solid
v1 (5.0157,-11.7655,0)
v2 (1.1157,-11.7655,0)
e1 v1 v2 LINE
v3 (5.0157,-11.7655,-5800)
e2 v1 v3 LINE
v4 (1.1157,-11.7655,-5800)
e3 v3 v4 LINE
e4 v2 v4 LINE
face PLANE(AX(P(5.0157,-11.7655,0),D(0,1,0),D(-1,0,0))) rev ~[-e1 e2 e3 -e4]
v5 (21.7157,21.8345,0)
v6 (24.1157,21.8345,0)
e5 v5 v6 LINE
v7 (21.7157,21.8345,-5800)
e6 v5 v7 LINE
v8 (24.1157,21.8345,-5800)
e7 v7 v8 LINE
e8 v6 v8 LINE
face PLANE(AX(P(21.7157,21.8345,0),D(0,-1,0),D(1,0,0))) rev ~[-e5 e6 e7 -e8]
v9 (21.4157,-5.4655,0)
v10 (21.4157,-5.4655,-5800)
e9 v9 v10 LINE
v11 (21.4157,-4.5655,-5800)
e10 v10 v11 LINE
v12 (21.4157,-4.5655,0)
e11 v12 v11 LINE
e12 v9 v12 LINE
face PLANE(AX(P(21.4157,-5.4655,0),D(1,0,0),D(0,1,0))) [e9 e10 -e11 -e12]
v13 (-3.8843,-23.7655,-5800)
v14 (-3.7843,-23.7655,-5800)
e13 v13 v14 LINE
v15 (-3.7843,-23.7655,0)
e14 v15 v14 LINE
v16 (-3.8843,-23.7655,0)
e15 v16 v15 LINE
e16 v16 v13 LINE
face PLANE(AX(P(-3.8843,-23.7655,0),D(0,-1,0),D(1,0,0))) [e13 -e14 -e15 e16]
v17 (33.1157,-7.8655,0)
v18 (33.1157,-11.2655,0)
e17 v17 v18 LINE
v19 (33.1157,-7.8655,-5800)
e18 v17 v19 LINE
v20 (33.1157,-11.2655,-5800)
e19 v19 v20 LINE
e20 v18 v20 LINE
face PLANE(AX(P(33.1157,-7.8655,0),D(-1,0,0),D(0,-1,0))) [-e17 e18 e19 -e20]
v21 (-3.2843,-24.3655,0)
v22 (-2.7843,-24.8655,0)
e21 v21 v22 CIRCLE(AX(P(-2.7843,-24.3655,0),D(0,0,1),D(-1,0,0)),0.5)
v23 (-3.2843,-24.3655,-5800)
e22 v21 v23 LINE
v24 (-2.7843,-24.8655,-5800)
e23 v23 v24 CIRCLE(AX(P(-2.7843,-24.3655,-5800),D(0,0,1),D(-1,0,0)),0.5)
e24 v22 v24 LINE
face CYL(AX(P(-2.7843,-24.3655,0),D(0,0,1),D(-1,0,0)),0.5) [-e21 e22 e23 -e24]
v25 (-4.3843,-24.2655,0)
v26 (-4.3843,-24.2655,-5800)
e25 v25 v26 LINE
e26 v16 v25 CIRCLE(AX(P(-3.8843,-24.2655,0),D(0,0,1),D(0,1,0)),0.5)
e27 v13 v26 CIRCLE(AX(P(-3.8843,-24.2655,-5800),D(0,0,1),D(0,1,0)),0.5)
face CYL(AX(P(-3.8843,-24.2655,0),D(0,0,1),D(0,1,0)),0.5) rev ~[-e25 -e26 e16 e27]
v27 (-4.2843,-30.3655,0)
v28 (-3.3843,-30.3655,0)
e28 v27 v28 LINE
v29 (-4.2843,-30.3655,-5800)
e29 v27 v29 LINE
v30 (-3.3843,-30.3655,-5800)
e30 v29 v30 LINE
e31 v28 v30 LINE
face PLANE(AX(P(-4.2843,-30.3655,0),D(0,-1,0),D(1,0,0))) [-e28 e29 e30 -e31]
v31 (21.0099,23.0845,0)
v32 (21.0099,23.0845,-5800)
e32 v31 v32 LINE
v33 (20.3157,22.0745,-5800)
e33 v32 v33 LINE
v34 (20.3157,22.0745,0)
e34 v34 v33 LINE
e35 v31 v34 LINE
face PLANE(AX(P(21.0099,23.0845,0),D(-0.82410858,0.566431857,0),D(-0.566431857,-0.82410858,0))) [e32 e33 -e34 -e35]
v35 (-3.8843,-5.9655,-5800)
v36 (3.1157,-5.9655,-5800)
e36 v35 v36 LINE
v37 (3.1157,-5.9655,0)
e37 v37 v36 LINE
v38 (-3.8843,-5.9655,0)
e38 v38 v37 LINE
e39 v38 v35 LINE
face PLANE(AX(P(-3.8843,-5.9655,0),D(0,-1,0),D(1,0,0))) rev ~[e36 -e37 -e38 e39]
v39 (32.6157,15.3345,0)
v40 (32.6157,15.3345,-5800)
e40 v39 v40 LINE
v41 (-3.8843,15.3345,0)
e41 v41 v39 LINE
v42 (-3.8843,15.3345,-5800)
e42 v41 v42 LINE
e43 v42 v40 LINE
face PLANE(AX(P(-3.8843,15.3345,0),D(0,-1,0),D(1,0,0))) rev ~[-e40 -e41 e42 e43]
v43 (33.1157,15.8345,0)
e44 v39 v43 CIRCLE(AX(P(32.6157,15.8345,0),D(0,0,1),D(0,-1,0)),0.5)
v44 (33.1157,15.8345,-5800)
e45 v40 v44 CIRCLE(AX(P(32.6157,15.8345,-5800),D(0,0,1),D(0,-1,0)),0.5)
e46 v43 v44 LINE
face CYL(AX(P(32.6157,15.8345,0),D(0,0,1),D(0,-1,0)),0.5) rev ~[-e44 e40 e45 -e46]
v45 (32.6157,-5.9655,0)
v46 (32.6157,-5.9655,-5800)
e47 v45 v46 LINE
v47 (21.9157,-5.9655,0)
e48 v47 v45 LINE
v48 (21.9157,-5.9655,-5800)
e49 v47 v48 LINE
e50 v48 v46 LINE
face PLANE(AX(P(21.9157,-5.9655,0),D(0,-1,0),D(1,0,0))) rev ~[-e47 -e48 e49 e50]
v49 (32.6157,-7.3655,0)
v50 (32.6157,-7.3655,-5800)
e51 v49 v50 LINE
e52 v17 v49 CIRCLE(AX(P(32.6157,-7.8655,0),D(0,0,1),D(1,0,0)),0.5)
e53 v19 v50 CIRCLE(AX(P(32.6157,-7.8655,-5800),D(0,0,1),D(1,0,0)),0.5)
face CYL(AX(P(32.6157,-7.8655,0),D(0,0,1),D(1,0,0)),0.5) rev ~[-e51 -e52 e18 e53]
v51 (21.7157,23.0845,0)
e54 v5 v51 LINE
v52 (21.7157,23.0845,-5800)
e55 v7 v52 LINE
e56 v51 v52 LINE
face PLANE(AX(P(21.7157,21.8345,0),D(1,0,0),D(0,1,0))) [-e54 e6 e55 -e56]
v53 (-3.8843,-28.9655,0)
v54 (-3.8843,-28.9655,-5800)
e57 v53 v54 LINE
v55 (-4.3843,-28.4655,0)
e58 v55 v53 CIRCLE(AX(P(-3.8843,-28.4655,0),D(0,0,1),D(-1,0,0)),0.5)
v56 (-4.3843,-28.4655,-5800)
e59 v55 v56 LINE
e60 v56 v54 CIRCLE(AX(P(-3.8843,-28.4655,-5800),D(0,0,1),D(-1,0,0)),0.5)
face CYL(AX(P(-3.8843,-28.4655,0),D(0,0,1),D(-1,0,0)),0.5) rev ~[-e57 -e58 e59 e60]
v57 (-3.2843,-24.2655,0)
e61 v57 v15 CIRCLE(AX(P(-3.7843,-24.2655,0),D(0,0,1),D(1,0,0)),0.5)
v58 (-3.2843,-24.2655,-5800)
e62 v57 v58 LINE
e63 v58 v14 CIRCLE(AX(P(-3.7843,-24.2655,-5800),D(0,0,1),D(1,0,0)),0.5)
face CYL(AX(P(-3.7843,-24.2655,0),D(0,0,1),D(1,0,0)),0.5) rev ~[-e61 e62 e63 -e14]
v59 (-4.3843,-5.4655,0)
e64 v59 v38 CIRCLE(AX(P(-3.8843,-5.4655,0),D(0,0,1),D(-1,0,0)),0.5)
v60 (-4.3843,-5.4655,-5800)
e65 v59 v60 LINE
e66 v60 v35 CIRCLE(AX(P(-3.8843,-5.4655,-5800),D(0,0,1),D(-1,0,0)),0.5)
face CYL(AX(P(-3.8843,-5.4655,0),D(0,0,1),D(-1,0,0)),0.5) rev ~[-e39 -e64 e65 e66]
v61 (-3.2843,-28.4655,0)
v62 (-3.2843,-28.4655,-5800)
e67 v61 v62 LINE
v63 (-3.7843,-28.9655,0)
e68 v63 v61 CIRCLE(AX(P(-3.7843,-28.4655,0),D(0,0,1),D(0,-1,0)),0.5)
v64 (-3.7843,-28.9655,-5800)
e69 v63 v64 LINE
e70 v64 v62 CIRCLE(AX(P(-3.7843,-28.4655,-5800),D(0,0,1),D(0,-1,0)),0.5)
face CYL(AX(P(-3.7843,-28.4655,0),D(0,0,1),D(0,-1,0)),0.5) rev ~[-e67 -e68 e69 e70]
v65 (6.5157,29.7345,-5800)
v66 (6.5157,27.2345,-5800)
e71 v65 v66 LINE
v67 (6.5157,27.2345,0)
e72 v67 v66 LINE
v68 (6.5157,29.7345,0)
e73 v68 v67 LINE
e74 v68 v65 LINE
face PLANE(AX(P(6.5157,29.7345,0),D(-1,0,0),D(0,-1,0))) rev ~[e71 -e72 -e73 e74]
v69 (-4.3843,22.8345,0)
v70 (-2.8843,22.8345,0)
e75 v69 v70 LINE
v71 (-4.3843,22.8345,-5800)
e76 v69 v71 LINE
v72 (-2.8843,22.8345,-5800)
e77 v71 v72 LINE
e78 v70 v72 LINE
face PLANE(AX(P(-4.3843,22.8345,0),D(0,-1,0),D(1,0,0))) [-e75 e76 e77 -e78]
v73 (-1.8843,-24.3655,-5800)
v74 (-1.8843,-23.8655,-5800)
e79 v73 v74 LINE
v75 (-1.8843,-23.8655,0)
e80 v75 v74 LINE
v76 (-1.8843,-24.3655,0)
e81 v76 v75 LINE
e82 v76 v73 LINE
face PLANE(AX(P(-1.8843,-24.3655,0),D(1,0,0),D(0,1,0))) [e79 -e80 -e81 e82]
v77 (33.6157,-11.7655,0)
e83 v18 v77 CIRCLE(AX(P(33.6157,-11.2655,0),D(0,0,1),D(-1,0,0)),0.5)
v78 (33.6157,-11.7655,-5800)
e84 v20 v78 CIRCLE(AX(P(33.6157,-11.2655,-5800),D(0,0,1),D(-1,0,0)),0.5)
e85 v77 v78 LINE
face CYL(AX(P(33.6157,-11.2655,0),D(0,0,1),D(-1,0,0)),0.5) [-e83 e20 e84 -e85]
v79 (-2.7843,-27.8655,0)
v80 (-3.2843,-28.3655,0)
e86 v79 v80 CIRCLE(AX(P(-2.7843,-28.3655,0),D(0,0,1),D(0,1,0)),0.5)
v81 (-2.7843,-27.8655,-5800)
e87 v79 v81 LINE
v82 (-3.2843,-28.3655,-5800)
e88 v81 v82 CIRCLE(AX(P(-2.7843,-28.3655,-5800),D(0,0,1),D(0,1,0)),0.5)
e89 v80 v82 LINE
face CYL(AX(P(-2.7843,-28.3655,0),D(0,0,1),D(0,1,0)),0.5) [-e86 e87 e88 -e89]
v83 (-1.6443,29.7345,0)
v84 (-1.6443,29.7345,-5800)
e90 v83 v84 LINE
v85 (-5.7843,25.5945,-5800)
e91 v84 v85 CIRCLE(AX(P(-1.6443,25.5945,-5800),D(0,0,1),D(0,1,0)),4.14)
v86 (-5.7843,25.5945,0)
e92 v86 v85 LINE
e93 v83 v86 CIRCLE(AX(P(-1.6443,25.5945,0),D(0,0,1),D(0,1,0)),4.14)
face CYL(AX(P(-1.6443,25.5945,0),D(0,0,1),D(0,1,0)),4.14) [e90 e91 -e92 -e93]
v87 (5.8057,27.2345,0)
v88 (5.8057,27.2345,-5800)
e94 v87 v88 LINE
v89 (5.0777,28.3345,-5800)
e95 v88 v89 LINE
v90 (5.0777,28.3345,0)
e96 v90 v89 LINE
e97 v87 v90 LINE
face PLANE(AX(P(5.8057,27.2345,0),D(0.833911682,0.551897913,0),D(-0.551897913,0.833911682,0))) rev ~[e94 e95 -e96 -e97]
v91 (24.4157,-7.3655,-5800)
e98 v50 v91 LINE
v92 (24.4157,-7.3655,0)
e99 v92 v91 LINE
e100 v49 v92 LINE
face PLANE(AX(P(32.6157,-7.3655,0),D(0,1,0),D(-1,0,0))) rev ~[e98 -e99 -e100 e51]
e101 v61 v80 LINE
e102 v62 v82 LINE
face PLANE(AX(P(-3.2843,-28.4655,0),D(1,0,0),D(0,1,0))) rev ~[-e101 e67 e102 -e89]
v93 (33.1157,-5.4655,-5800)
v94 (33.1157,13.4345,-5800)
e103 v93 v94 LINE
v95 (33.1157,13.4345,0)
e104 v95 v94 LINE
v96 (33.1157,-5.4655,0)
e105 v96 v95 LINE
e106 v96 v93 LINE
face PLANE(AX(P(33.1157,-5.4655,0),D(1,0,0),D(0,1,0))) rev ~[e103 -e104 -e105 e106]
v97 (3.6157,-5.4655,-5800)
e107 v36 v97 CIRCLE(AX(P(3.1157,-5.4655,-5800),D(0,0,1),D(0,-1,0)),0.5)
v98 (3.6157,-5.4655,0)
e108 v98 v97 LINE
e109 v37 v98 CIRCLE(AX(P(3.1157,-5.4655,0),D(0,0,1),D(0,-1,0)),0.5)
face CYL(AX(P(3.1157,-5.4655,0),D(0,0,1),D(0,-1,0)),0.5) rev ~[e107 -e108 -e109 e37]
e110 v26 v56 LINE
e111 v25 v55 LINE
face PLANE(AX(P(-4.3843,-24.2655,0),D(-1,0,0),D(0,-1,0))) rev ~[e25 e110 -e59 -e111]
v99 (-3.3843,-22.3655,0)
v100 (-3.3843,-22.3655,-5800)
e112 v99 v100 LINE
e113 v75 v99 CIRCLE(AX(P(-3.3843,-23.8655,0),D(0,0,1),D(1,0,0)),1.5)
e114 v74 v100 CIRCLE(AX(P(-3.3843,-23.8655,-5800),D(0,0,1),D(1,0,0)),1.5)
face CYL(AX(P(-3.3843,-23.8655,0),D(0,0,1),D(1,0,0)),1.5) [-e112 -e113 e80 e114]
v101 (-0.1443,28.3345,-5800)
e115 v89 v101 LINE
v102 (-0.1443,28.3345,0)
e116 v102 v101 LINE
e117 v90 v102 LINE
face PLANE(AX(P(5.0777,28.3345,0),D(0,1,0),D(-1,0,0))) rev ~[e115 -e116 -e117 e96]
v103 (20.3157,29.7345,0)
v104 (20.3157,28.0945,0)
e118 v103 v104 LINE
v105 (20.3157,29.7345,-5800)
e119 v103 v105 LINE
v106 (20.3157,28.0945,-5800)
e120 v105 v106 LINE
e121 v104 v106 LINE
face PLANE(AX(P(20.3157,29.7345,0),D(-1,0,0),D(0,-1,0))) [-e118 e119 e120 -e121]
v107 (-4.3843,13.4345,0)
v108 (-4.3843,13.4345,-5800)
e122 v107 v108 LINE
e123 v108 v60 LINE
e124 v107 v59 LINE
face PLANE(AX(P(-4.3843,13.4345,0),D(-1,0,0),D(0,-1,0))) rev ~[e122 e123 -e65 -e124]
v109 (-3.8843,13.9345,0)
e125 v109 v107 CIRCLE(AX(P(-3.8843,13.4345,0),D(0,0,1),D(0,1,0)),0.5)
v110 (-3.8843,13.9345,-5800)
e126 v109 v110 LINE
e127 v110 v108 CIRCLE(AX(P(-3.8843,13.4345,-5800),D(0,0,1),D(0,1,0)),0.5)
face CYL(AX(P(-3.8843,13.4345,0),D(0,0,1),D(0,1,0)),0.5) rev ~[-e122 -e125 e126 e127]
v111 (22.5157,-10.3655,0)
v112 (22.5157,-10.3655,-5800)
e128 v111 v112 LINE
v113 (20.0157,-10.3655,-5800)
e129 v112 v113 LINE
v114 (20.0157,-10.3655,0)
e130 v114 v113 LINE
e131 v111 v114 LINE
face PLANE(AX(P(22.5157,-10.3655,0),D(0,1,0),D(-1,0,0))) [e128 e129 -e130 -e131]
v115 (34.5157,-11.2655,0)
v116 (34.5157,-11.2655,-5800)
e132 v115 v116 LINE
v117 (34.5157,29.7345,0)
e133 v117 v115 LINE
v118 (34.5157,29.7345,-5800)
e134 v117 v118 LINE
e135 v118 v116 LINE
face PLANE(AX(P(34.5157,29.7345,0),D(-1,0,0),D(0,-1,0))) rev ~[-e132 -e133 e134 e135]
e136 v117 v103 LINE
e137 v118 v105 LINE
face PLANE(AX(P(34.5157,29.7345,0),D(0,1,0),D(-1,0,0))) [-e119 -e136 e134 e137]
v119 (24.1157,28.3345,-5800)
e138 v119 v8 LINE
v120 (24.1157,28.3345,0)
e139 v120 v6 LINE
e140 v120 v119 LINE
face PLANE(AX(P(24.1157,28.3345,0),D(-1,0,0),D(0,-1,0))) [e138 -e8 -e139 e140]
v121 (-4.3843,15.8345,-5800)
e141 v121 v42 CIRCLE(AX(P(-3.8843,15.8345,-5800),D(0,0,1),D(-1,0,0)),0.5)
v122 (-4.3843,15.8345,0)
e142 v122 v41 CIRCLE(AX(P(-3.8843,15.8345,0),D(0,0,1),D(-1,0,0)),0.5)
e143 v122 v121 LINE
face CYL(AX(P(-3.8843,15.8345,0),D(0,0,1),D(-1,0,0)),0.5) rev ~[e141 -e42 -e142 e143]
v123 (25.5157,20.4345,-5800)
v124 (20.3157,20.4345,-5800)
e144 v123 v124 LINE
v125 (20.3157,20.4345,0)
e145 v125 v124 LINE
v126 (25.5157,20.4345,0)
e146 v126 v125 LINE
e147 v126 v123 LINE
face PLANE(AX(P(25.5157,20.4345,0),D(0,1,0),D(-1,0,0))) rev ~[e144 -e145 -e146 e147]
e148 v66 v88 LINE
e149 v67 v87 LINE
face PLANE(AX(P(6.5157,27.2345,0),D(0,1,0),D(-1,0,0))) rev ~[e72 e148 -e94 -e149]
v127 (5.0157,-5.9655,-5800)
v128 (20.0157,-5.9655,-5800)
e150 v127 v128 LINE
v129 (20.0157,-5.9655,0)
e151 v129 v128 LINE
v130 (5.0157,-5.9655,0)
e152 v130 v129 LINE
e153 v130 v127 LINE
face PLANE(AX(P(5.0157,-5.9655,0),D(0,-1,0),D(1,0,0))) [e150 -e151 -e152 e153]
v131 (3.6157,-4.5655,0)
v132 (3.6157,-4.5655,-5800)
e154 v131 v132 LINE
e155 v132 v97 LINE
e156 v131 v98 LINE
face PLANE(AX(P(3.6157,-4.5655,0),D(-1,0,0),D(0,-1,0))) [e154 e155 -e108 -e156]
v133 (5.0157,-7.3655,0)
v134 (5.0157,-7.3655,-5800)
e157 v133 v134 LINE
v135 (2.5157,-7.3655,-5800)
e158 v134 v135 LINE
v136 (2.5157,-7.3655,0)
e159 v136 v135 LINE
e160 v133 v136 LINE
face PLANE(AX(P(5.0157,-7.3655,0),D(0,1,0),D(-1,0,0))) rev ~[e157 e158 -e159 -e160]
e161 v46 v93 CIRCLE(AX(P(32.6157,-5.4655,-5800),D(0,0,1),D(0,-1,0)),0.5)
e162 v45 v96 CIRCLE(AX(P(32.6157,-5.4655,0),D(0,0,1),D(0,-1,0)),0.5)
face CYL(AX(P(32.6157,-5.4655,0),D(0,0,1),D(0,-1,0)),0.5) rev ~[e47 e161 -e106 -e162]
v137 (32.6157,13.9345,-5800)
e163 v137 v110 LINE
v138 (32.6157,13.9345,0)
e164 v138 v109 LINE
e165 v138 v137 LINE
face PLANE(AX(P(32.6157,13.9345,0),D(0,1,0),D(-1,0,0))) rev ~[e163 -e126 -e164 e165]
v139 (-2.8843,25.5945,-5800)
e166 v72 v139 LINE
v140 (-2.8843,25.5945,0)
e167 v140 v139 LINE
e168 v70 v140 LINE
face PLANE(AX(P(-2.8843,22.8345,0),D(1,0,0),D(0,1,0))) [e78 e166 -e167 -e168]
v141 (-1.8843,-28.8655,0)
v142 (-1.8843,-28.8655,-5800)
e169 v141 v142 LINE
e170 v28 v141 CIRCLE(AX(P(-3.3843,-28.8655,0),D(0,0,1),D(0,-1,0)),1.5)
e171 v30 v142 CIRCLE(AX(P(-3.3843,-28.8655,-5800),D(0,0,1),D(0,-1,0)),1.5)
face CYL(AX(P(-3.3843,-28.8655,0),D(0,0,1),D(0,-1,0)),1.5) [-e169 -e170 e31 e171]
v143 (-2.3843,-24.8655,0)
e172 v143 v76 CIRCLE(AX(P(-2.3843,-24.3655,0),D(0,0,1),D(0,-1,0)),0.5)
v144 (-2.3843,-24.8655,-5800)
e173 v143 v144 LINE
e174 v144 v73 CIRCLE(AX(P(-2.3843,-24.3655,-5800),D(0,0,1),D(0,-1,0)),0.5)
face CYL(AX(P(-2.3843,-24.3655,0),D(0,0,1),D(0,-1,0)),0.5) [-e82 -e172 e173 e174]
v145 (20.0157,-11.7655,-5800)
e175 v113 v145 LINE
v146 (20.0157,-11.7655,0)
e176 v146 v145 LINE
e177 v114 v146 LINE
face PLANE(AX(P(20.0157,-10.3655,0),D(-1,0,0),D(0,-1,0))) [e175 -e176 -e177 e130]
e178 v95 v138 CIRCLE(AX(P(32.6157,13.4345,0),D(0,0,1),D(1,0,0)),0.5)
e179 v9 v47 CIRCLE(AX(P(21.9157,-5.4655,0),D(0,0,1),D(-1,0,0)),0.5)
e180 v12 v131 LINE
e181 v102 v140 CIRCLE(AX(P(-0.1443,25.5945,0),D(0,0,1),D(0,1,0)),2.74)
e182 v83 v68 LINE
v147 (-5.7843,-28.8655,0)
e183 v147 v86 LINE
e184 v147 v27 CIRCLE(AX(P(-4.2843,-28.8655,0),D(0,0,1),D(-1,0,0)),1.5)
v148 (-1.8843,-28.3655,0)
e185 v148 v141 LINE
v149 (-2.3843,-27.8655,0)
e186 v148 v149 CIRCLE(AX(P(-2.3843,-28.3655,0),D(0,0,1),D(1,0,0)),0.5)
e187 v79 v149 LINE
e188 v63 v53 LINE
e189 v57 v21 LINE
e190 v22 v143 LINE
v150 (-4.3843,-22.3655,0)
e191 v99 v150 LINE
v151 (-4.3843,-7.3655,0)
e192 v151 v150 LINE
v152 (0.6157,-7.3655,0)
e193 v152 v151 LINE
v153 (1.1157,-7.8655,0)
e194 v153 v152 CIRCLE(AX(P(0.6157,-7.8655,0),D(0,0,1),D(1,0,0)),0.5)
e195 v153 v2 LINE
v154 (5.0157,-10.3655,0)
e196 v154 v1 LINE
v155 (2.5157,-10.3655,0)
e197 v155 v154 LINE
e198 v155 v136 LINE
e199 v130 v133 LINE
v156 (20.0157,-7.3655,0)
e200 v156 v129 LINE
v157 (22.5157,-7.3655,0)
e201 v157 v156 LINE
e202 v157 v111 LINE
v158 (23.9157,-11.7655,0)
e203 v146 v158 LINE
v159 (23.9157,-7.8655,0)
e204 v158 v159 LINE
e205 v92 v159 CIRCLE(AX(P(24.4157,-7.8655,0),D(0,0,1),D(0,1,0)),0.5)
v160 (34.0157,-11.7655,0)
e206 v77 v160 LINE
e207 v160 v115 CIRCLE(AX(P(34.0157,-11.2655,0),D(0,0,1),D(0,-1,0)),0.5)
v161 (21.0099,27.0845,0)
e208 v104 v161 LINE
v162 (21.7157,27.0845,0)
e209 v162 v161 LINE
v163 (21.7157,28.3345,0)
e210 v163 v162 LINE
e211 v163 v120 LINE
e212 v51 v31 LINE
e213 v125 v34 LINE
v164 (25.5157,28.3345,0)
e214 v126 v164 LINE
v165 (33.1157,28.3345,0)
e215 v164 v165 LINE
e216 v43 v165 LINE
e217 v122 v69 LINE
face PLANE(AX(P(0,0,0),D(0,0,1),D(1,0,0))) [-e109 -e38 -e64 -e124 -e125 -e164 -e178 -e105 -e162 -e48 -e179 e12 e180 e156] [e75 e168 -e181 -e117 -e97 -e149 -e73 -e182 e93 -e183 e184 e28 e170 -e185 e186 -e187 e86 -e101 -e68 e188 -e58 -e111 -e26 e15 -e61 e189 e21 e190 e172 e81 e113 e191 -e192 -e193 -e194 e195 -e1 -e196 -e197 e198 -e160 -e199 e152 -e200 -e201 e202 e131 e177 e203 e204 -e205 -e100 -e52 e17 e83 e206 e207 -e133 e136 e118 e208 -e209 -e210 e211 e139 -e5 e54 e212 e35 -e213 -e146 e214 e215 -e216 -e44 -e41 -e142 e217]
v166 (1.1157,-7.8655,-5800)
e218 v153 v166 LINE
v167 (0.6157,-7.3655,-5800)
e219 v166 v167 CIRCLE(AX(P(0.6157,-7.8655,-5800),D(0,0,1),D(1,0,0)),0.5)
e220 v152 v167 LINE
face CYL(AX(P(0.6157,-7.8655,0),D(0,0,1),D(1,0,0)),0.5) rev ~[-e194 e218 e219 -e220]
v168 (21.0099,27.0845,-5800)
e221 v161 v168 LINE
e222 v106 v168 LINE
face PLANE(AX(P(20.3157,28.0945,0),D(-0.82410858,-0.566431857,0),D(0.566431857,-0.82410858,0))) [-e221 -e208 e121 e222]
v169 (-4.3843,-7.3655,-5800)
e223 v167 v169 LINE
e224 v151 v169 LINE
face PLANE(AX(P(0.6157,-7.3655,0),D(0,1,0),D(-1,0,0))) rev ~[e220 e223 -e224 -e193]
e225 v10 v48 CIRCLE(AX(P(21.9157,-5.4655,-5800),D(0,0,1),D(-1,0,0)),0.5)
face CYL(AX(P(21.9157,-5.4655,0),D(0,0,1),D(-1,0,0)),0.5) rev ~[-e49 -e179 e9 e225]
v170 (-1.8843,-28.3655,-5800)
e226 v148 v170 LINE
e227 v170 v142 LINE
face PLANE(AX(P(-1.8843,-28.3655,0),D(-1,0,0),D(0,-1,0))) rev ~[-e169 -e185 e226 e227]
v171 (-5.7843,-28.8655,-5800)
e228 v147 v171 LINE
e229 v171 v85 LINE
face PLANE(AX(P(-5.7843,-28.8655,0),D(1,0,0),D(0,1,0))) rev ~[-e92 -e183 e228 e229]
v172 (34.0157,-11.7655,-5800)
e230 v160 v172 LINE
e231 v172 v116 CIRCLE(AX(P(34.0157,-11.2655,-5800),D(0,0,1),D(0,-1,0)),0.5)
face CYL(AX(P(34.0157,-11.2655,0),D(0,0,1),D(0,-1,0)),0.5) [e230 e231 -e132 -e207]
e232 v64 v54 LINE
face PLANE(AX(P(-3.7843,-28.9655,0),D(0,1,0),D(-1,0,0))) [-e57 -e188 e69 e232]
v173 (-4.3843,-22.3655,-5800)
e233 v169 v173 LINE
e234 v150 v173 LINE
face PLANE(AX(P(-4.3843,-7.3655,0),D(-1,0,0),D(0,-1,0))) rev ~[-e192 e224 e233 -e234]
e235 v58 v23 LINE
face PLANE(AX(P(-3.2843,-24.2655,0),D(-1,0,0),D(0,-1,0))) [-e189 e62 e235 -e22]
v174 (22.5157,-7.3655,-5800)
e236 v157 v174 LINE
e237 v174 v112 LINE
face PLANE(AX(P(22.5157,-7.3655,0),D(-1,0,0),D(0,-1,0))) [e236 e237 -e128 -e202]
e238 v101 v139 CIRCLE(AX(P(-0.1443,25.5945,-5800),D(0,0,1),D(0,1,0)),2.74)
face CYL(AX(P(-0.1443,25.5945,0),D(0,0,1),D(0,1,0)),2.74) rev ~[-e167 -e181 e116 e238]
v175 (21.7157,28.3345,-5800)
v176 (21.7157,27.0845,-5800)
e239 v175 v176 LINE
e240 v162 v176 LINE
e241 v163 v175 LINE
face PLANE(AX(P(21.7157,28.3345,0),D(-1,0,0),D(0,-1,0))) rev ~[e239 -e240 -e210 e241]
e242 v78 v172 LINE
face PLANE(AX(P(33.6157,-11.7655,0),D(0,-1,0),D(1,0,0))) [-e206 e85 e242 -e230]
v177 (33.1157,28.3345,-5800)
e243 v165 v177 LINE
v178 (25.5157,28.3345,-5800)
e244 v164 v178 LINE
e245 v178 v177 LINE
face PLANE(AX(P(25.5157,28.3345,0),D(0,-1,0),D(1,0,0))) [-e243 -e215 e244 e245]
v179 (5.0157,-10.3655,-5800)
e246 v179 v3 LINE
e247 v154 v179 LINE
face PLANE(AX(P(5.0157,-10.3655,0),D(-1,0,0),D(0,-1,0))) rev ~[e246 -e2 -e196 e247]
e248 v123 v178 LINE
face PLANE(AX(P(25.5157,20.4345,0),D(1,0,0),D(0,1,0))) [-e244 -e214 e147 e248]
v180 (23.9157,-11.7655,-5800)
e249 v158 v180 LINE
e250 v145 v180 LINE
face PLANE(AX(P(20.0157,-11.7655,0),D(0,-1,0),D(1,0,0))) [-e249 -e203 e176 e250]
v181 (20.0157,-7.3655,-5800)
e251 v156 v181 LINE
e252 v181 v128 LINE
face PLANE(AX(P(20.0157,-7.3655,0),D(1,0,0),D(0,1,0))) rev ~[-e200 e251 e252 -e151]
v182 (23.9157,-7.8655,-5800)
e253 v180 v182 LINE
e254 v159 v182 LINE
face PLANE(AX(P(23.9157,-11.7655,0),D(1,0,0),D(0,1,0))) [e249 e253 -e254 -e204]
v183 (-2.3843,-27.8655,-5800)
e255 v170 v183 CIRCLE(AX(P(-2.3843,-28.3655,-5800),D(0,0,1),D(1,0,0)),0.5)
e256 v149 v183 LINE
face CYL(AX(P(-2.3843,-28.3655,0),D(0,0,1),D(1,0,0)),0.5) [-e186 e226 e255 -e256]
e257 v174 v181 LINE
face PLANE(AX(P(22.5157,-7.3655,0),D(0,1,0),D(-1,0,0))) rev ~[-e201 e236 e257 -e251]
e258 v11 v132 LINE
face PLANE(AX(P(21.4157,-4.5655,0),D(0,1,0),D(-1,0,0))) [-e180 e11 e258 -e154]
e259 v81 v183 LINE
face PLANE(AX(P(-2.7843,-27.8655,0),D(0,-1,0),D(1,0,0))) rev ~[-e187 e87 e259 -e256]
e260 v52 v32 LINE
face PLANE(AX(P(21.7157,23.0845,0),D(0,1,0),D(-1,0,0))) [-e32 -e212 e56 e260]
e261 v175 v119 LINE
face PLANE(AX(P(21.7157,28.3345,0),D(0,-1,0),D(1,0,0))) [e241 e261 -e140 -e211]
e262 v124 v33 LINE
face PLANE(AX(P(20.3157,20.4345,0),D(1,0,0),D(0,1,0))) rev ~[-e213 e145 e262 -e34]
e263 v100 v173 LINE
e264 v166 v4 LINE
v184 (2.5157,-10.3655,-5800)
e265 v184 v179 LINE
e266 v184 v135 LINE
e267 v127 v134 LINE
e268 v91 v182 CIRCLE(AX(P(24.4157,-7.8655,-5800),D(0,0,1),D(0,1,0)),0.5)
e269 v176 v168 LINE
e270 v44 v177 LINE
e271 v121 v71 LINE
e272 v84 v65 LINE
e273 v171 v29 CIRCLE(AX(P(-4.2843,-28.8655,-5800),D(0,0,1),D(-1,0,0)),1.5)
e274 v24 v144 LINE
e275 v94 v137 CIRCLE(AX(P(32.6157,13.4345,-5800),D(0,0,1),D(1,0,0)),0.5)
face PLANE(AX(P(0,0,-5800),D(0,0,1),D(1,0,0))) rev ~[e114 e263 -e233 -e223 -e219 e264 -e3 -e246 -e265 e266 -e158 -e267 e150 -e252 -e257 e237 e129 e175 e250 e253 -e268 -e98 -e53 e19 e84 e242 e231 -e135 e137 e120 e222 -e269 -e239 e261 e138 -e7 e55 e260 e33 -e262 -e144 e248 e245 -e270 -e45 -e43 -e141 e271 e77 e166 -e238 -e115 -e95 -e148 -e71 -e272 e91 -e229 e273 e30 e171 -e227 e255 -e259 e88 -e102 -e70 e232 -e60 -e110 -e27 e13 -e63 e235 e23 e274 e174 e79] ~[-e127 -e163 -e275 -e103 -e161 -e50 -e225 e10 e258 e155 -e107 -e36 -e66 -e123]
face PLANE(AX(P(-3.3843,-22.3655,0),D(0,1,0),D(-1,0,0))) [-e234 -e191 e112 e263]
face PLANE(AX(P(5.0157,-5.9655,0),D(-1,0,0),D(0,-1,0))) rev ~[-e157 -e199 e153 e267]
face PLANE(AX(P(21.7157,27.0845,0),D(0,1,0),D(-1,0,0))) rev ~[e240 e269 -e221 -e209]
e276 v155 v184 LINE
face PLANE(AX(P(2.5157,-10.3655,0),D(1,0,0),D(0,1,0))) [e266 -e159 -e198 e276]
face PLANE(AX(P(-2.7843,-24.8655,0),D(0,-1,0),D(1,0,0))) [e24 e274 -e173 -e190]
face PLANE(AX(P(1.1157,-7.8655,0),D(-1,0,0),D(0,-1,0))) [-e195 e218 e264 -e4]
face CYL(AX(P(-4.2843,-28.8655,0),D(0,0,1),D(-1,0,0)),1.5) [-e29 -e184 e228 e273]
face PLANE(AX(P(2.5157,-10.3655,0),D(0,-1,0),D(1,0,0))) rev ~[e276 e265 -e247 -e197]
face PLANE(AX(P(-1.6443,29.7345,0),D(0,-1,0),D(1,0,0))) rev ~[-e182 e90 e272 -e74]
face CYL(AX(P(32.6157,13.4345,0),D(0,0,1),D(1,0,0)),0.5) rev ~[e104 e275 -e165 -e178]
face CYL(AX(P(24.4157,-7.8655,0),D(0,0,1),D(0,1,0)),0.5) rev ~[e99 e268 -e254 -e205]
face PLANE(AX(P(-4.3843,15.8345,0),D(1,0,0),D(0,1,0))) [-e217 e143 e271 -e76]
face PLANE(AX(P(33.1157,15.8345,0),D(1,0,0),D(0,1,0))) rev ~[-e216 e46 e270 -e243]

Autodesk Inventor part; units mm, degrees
ref_plane "YZ Plane" through (0, 0, 0) normal (1, 0, 0) x (0, 1, 0)
ref_plane "XZ Plane" through (0, 0, 0) normal (0, 1, 0) x (-1, 0, 0)
ref_plane "XY Plane" through (0, 0, 0) normal (0, 0, 1) x (1, 0, 0)
sketch "Boceto1" plane through (0, 0, 0) normal (0, 0, 1) x (1, 0, 0)
  line L0 (33.1157, -5.4655) -> (33.1157, 13.4345)
  line L1 (32.6157, 13.9345) -> (-3.8843, 13.9345)
  line L2 (-4.3843, 13.4345) -> (-4.3843, -5.4655)
  line L3 (-3.8843, 15.3345) -> (32.6157, 15.3345)
  line L4 (34.5157, 29.7345) -> (34.5157, -11.2655)
  line L5 (-5.7843, -28.8655) -> (-5.7843, 25.5945)
  line L6 (33.1157, 15.8345) -> (33.1157, 28.3345)
  line L7 (34.5157, 29.7345) -> (20.3157, 29.7345)
  line L8 (20.3157, 29.7345) -> (20.3157, 28.0945)
  line L9 (24.1157, 28.3345) -> (24.1157, 21.8345)
  line L10 (25.5157, 20.4345) -> (25.5157, 28.3345)
  line L11 (25.5157, 20.4345) -> (20.3157, 20.4345)
  line L12 (20.3157, 20.4345) -> (20.3157, 22.0745)
  line L13 (21.7157, 21.8345) -> (24.1157, 21.8345)
  line L14 (21.7157, 23.0845) -> (21.0099, 23.0845)
  line L15 (21.0099, 23.0845) -> (20.3157, 22.0745)
  line L16 (21.7157, 27.0845) -> (21.0099, 27.0845)
  line L17 (-4.3843, 15.8345) -> (-4.3843, 22.8345)
  line L18 (-4.3843, 22.8345) -> (-2.8843, 22.8345)
  line L19 (-2.8843, 22.8345) -> (-2.8843, 25.5945)
  line L20 (-1.6443, 29.7345) -> (6.5157, 29.7345)
  line L21 (5.0777, 28.3345) -> (-0.1443, 28.3345)
  line L22 (6.5157, 29.7345) -> (6.5157, 27.2345)
  line L23 (6.5157, 27.2345) -> (5.8057, 27.2345)
  line L24 (5.8057, 27.2345) -> (5.0777, 28.3345)
  line L25 (33.1157, -7.8655) -> (33.1157, -11.2655)
  line L26 (33.6157, -11.7655) -> (34.0157, -11.7655)
  line L27 (22.5157, -7.3655) -> (22.5157, -10.3655)
  line L28 (23.9157, -11.7655) -> (23.9157, -7.8655)
  line L29 (1.1157, -7.8655) -> (1.1157, -11.7655)
  line L30 (2.5157, -10.3655) -> (2.5157, -7.3655)
  line L31 (2.5157, -10.3655) -> (5.0157, -10.3655)
  line L32 (5.0157, -10.3655) -> (5.0157, -11.7655)
  line L33 (5.0157, -11.7655) -> (1.1157, -11.7655)
  line L34 (22.5157, -10.3655) -> (20.0157, -10.3655)
  line L35 (20.0157, -10.3655) -> (20.0157, -11.7655)
  line L36 (20.0157, -11.7655) -> (23.9157, -11.7655)
  line L37 (21.4157, -5.4655) -> (21.4157, -4.5655)
  line L38 (21.4157, -4.5655) -> (3.6157, -4.5655)
  line L39 (-3.8843, -5.9655) -> (3.1157, -5.9655)
  line L40 (21.9157, -5.9655) -> (32.6157, -5.9655)
  line L41 (20.0157, -7.3655) -> (20.0157, -5.9655)
  line L42 (5.0157, -5.9655) -> (5.0157, -7.3655)
  line L43 (21.7157, 28.3345) -> (24.1157, 28.3345)
  line L44 (25.5157, 28.3345) -> (33.1157, 28.3345)
  line L45 (32.6157, -7.3655) -> (24.4157, -7.3655)
  line L46 (5.0157, -7.3655) -> (2.5157, -7.3655)
  line L47 (0.6157, -7.3655) -> (-4.3843, -7.3655)
  line L48 (22.5157, -7.3655) -> (20.0157, -7.3655)
  line L49 (22.5157, -7.3655) -> (20.0157, -7.3655)
  line L50 (3.6157, -4.5655) -> (3.6157, -5.4655)
  line L51 (5.0157, -5.9655) -> (20.0157, -5.9655)
  line L52 (20.3157, 28.0945) -> (21.0099, 27.0845)
  line L53 (21.7157, 28.3345) -> (21.7157, 27.0845)
  line L54 (21.7157, 21.8345) -> (21.7157, 23.0845)
  line L55 (-4.2843, -30.3655) -> (-3.3843, -30.3655)
  line L56 (-3.7843, -28.9655) -> (-3.8843, -28.9655)
  line L57 (-3.8843, -23.7655) -> (-3.7843, -23.7655)
  line L58 (-3.3843, -22.3655) -> (-4.3843, -22.3655)
  line L59 (-3.2843, -24.2655) -> (-3.2843, -24.3655)
  line L60 (-2.7843, -24.8655) -> (-2.3843, -24.8655)
  line L61 (-1.8843, -24.3655) -> (-1.8843, -23.8655)
  line L62 (-3.2843, -28.4655) -> (-3.2843, -28.3655)
  line L63 (-2.7843, -27.8655) -> (-2.3843, -27.8655)
  line L64 (-1.8843, -28.3655) -> (-1.8843, -28.8655)
  line L65 (-4.3843, -7.3655) -> (-4.3843, -22.3655)
  line L66 (-4.3843, -24.2655) -> (-4.3843, -28.4655)
  arc A0 (-1.8843, -23.8655) -> (-3.3843, -22.3655) centre (-3.3843, -23.8655) ccw
  arc A1 (-1.6443, 29.7345) -> (-5.7843, 25.5945) centre (-1.6443, 25.5945) ccw
  arc A2 (-0.1443, 28.3345) -> (-2.8843, 25.5945) centre (-0.1443, 25.5945) ccw
  arc A3 (-2.7843, -27.8655) -> (-3.2843, -28.3655) centre (-2.7843, -28.3655) ccw
  arc A4 (-1.8843, -28.3655) -> (-2.3843, -27.8655) centre (-2.3843, -28.3655) ccw
  arc A5 (-3.2843, -24.3655) -> (-2.7843, -24.8655) centre (-2.7843, -24.3655) ccw
  arc A6 (-2.3843, -24.8655) -> (-1.8843, -24.3655) centre (-2.3843, -24.3655) ccw
  arc A7 (1.1157, -7.8655) -> (0.6157, -7.3655) centre (0.6157, -7.8655) ccw
  arc A8 (3.1157, -5.9655) -> (3.6157, -5.4655) centre (3.1157, -5.4655) ccw
  arc A9 (-4.3843, -5.4655) -> (-3.8843, -5.9655) centre (-3.8843, -5.4655) ccw
  arc A10 (24.4157, -7.3655) -> (23.9157, -7.8655) centre (24.4157, -7.8655) ccw
  arc A11 (21.4157, -5.4655) -> (21.9157, -5.9655) centre (21.9157, -5.4655) ccw
  arc A12 (32.6157, -5.9655) -> (33.1157, -5.4655) centre (32.6157, -5.4655) ccw
  arc A13 (33.1157, -7.8655) -> (32.6157, -7.3655) centre (32.6157, -7.8655) ccw
  arc A14 (33.1157, -11.2655) -> (33.6157, -11.7655) centre (33.6157, -11.2655) ccw
  arc A15 (34.0157, -11.7655) -> (34.5157, -11.2655) centre (34.0157, -11.2655) ccw
  arc A16 (-4.3843, 15.8345) -> (-3.8843, 15.3345) centre (-3.8843, 15.8345) ccw
  arc A17 (-3.8843, 13.9345) -> (-4.3843, 13.4345) centre (-3.8843, 13.4345) ccw
  arc A18 (33.1157, 13.4345) -> (32.6157, 13.9345) centre (32.6157, 13.4345) ccw
  arc A19 (32.6157, 15.3345) -> (33.1157, 15.8345) centre (32.6157, 15.8345) ccw
  arc A20 (-3.2843, -24.2655) -> (-3.7843, -23.7655) centre (-3.7843, -24.2655) ccw
  arc A21 (-3.8843, -23.7655) -> (-4.3843, -24.2655) centre (-3.8843, -24.2655) ccw
  arc A22 (-4.3843, -28.4655) -> (-3.8843, -28.9655) centre (-3.8843, -28.4655) ccw
  arc A23 (-3.7843, -28.9655) -> (-3.2843, -28.4655) centre (-3.7843, -28.4655) ccw
  arc A24 (-5.7843, -28.8655) -> (-4.2843, -30.3655) centre (-4.2843, -28.8655) ccw
  arc A25 (-3.3843, -30.3655) -> (-1.8843, -28.8655) centre (-3.3843, -28.8655) ccw
  point P0 (-2.8843, 28.3345)
  point P1 (-5.7843, 29.7345)
  point P2 (22.9157, 20.4345)
  point P3 (-4.3843, -28.9655)
  point P4 (-4.3843, -23.7655)
  point P5 (-1.8843, -22.3655)
  point P6 (-3.2843, -23.7655)
  point P7 (-3.2843, -28.9655)
  point P8 (1.1157, -7.3655)
  point P9 (3.6157, -5.9655)
  point P10 (-4.3843, -5.9655)
  point P11 (23.9157, -7.3655)
  point P12 (21.4157, -5.9655)
  point P13 (33.1157, -5.9655)
  point P14 (33.1157, -7.3655)
  point P15 (-4.3843, 13.9345)
  point P16 (33.1157, 13.9345)
  point P17 (33.1157, 15.3345)
  point P18 (-4.3843, 15.3345)
  point P19 (3.6157, -5.0155)
  point P20 (-4.3843, -26.3655)
  point P21 (-1.8843, -30.3655)
  point P22 (-5.7843, -30.3655)
  point P23 (24.1157, 25.0845)
  dimension "d143" = 22.7
  dimension "d144" = 14.4
  dimension "d148" = 1.4
  dimension "d149" = 1.4
  dimension "d152" = 1.4
  dimension "d153" = 1.4
  dimension "d154" = 1.4
  dimension "d156" = 1.4
  dimension "d157" = 1.4
  dimension "d158" = 41.5
  dimension "d162" = 9.3
  dimension "d163" = 6.5
  dimension "d167" = 1.4
  dimension "d168" = 1.4
  dimension "d169" = 2.5
  dimension "d172" = 1.4
  dimension "d178" = 3
  dimension "d182" = 1.4
  dimension "d183" = 1.4
  dimension "d186" = 1.4
  dimension "d189" = 18.5
  dimension "d191" = 1.4
  dimension "d193" = 1.4
  dimension "d194" = 1.4
  dimension "d196" = 23
  dimension "d197" = 5.2
  dimension "d199" = 40.3
  dimension "d200" = 14.2
  dimension "d202" = 13.8
  dimension "d203" = 1.4
  dimension "d204" = 7.5
  dimension "d205" = 14.4
  dimension "d206" = 37.5
  dimension "d207" = 60.1
  dimension "d208" = 15
  dimension "d209" = 20
  dimension "d210" = 22.8
  dimension "d211" = 2.9
  dimension "d216" = 1.4
  dimension "d217" = 1.4
  dimension "d220" = 1.4
  dimension "d222" = 1.4
  dimension "d223" = 2.5
  dimension "d224" = 2.5
  dimension "d225" = 6.9
  dimension "d226" = 3
  dimension "d227" = 8
  dimension "d230" = 1.1
  dimension "d231" = 1.4
  dimension "d232" = 3
  dimension "d233" = 1.5
  dimension "d234" = 1.5
  dimension "d235" = 6.9
  dimension "d237" = 4.14
  dimension "d238" = 2.74
  dimension "d239" = 0.71
  dimension "d240" = 33.5
  dimension "d241" = 19.9
  dimension "d242" = 6.02
  dimension "d243" = 3.01
  dimension "d244" = 2.4
  dimension "d245" = 4
  dimension "d246" = 2
  dimension "d250" = 111
extrude "Extrusión1" add sketch "Boceto1" against normal blind 5800
properties part number "SP40-02 HOJA PUERTA BATIENTE INT - EXT" material "Aluminio"
